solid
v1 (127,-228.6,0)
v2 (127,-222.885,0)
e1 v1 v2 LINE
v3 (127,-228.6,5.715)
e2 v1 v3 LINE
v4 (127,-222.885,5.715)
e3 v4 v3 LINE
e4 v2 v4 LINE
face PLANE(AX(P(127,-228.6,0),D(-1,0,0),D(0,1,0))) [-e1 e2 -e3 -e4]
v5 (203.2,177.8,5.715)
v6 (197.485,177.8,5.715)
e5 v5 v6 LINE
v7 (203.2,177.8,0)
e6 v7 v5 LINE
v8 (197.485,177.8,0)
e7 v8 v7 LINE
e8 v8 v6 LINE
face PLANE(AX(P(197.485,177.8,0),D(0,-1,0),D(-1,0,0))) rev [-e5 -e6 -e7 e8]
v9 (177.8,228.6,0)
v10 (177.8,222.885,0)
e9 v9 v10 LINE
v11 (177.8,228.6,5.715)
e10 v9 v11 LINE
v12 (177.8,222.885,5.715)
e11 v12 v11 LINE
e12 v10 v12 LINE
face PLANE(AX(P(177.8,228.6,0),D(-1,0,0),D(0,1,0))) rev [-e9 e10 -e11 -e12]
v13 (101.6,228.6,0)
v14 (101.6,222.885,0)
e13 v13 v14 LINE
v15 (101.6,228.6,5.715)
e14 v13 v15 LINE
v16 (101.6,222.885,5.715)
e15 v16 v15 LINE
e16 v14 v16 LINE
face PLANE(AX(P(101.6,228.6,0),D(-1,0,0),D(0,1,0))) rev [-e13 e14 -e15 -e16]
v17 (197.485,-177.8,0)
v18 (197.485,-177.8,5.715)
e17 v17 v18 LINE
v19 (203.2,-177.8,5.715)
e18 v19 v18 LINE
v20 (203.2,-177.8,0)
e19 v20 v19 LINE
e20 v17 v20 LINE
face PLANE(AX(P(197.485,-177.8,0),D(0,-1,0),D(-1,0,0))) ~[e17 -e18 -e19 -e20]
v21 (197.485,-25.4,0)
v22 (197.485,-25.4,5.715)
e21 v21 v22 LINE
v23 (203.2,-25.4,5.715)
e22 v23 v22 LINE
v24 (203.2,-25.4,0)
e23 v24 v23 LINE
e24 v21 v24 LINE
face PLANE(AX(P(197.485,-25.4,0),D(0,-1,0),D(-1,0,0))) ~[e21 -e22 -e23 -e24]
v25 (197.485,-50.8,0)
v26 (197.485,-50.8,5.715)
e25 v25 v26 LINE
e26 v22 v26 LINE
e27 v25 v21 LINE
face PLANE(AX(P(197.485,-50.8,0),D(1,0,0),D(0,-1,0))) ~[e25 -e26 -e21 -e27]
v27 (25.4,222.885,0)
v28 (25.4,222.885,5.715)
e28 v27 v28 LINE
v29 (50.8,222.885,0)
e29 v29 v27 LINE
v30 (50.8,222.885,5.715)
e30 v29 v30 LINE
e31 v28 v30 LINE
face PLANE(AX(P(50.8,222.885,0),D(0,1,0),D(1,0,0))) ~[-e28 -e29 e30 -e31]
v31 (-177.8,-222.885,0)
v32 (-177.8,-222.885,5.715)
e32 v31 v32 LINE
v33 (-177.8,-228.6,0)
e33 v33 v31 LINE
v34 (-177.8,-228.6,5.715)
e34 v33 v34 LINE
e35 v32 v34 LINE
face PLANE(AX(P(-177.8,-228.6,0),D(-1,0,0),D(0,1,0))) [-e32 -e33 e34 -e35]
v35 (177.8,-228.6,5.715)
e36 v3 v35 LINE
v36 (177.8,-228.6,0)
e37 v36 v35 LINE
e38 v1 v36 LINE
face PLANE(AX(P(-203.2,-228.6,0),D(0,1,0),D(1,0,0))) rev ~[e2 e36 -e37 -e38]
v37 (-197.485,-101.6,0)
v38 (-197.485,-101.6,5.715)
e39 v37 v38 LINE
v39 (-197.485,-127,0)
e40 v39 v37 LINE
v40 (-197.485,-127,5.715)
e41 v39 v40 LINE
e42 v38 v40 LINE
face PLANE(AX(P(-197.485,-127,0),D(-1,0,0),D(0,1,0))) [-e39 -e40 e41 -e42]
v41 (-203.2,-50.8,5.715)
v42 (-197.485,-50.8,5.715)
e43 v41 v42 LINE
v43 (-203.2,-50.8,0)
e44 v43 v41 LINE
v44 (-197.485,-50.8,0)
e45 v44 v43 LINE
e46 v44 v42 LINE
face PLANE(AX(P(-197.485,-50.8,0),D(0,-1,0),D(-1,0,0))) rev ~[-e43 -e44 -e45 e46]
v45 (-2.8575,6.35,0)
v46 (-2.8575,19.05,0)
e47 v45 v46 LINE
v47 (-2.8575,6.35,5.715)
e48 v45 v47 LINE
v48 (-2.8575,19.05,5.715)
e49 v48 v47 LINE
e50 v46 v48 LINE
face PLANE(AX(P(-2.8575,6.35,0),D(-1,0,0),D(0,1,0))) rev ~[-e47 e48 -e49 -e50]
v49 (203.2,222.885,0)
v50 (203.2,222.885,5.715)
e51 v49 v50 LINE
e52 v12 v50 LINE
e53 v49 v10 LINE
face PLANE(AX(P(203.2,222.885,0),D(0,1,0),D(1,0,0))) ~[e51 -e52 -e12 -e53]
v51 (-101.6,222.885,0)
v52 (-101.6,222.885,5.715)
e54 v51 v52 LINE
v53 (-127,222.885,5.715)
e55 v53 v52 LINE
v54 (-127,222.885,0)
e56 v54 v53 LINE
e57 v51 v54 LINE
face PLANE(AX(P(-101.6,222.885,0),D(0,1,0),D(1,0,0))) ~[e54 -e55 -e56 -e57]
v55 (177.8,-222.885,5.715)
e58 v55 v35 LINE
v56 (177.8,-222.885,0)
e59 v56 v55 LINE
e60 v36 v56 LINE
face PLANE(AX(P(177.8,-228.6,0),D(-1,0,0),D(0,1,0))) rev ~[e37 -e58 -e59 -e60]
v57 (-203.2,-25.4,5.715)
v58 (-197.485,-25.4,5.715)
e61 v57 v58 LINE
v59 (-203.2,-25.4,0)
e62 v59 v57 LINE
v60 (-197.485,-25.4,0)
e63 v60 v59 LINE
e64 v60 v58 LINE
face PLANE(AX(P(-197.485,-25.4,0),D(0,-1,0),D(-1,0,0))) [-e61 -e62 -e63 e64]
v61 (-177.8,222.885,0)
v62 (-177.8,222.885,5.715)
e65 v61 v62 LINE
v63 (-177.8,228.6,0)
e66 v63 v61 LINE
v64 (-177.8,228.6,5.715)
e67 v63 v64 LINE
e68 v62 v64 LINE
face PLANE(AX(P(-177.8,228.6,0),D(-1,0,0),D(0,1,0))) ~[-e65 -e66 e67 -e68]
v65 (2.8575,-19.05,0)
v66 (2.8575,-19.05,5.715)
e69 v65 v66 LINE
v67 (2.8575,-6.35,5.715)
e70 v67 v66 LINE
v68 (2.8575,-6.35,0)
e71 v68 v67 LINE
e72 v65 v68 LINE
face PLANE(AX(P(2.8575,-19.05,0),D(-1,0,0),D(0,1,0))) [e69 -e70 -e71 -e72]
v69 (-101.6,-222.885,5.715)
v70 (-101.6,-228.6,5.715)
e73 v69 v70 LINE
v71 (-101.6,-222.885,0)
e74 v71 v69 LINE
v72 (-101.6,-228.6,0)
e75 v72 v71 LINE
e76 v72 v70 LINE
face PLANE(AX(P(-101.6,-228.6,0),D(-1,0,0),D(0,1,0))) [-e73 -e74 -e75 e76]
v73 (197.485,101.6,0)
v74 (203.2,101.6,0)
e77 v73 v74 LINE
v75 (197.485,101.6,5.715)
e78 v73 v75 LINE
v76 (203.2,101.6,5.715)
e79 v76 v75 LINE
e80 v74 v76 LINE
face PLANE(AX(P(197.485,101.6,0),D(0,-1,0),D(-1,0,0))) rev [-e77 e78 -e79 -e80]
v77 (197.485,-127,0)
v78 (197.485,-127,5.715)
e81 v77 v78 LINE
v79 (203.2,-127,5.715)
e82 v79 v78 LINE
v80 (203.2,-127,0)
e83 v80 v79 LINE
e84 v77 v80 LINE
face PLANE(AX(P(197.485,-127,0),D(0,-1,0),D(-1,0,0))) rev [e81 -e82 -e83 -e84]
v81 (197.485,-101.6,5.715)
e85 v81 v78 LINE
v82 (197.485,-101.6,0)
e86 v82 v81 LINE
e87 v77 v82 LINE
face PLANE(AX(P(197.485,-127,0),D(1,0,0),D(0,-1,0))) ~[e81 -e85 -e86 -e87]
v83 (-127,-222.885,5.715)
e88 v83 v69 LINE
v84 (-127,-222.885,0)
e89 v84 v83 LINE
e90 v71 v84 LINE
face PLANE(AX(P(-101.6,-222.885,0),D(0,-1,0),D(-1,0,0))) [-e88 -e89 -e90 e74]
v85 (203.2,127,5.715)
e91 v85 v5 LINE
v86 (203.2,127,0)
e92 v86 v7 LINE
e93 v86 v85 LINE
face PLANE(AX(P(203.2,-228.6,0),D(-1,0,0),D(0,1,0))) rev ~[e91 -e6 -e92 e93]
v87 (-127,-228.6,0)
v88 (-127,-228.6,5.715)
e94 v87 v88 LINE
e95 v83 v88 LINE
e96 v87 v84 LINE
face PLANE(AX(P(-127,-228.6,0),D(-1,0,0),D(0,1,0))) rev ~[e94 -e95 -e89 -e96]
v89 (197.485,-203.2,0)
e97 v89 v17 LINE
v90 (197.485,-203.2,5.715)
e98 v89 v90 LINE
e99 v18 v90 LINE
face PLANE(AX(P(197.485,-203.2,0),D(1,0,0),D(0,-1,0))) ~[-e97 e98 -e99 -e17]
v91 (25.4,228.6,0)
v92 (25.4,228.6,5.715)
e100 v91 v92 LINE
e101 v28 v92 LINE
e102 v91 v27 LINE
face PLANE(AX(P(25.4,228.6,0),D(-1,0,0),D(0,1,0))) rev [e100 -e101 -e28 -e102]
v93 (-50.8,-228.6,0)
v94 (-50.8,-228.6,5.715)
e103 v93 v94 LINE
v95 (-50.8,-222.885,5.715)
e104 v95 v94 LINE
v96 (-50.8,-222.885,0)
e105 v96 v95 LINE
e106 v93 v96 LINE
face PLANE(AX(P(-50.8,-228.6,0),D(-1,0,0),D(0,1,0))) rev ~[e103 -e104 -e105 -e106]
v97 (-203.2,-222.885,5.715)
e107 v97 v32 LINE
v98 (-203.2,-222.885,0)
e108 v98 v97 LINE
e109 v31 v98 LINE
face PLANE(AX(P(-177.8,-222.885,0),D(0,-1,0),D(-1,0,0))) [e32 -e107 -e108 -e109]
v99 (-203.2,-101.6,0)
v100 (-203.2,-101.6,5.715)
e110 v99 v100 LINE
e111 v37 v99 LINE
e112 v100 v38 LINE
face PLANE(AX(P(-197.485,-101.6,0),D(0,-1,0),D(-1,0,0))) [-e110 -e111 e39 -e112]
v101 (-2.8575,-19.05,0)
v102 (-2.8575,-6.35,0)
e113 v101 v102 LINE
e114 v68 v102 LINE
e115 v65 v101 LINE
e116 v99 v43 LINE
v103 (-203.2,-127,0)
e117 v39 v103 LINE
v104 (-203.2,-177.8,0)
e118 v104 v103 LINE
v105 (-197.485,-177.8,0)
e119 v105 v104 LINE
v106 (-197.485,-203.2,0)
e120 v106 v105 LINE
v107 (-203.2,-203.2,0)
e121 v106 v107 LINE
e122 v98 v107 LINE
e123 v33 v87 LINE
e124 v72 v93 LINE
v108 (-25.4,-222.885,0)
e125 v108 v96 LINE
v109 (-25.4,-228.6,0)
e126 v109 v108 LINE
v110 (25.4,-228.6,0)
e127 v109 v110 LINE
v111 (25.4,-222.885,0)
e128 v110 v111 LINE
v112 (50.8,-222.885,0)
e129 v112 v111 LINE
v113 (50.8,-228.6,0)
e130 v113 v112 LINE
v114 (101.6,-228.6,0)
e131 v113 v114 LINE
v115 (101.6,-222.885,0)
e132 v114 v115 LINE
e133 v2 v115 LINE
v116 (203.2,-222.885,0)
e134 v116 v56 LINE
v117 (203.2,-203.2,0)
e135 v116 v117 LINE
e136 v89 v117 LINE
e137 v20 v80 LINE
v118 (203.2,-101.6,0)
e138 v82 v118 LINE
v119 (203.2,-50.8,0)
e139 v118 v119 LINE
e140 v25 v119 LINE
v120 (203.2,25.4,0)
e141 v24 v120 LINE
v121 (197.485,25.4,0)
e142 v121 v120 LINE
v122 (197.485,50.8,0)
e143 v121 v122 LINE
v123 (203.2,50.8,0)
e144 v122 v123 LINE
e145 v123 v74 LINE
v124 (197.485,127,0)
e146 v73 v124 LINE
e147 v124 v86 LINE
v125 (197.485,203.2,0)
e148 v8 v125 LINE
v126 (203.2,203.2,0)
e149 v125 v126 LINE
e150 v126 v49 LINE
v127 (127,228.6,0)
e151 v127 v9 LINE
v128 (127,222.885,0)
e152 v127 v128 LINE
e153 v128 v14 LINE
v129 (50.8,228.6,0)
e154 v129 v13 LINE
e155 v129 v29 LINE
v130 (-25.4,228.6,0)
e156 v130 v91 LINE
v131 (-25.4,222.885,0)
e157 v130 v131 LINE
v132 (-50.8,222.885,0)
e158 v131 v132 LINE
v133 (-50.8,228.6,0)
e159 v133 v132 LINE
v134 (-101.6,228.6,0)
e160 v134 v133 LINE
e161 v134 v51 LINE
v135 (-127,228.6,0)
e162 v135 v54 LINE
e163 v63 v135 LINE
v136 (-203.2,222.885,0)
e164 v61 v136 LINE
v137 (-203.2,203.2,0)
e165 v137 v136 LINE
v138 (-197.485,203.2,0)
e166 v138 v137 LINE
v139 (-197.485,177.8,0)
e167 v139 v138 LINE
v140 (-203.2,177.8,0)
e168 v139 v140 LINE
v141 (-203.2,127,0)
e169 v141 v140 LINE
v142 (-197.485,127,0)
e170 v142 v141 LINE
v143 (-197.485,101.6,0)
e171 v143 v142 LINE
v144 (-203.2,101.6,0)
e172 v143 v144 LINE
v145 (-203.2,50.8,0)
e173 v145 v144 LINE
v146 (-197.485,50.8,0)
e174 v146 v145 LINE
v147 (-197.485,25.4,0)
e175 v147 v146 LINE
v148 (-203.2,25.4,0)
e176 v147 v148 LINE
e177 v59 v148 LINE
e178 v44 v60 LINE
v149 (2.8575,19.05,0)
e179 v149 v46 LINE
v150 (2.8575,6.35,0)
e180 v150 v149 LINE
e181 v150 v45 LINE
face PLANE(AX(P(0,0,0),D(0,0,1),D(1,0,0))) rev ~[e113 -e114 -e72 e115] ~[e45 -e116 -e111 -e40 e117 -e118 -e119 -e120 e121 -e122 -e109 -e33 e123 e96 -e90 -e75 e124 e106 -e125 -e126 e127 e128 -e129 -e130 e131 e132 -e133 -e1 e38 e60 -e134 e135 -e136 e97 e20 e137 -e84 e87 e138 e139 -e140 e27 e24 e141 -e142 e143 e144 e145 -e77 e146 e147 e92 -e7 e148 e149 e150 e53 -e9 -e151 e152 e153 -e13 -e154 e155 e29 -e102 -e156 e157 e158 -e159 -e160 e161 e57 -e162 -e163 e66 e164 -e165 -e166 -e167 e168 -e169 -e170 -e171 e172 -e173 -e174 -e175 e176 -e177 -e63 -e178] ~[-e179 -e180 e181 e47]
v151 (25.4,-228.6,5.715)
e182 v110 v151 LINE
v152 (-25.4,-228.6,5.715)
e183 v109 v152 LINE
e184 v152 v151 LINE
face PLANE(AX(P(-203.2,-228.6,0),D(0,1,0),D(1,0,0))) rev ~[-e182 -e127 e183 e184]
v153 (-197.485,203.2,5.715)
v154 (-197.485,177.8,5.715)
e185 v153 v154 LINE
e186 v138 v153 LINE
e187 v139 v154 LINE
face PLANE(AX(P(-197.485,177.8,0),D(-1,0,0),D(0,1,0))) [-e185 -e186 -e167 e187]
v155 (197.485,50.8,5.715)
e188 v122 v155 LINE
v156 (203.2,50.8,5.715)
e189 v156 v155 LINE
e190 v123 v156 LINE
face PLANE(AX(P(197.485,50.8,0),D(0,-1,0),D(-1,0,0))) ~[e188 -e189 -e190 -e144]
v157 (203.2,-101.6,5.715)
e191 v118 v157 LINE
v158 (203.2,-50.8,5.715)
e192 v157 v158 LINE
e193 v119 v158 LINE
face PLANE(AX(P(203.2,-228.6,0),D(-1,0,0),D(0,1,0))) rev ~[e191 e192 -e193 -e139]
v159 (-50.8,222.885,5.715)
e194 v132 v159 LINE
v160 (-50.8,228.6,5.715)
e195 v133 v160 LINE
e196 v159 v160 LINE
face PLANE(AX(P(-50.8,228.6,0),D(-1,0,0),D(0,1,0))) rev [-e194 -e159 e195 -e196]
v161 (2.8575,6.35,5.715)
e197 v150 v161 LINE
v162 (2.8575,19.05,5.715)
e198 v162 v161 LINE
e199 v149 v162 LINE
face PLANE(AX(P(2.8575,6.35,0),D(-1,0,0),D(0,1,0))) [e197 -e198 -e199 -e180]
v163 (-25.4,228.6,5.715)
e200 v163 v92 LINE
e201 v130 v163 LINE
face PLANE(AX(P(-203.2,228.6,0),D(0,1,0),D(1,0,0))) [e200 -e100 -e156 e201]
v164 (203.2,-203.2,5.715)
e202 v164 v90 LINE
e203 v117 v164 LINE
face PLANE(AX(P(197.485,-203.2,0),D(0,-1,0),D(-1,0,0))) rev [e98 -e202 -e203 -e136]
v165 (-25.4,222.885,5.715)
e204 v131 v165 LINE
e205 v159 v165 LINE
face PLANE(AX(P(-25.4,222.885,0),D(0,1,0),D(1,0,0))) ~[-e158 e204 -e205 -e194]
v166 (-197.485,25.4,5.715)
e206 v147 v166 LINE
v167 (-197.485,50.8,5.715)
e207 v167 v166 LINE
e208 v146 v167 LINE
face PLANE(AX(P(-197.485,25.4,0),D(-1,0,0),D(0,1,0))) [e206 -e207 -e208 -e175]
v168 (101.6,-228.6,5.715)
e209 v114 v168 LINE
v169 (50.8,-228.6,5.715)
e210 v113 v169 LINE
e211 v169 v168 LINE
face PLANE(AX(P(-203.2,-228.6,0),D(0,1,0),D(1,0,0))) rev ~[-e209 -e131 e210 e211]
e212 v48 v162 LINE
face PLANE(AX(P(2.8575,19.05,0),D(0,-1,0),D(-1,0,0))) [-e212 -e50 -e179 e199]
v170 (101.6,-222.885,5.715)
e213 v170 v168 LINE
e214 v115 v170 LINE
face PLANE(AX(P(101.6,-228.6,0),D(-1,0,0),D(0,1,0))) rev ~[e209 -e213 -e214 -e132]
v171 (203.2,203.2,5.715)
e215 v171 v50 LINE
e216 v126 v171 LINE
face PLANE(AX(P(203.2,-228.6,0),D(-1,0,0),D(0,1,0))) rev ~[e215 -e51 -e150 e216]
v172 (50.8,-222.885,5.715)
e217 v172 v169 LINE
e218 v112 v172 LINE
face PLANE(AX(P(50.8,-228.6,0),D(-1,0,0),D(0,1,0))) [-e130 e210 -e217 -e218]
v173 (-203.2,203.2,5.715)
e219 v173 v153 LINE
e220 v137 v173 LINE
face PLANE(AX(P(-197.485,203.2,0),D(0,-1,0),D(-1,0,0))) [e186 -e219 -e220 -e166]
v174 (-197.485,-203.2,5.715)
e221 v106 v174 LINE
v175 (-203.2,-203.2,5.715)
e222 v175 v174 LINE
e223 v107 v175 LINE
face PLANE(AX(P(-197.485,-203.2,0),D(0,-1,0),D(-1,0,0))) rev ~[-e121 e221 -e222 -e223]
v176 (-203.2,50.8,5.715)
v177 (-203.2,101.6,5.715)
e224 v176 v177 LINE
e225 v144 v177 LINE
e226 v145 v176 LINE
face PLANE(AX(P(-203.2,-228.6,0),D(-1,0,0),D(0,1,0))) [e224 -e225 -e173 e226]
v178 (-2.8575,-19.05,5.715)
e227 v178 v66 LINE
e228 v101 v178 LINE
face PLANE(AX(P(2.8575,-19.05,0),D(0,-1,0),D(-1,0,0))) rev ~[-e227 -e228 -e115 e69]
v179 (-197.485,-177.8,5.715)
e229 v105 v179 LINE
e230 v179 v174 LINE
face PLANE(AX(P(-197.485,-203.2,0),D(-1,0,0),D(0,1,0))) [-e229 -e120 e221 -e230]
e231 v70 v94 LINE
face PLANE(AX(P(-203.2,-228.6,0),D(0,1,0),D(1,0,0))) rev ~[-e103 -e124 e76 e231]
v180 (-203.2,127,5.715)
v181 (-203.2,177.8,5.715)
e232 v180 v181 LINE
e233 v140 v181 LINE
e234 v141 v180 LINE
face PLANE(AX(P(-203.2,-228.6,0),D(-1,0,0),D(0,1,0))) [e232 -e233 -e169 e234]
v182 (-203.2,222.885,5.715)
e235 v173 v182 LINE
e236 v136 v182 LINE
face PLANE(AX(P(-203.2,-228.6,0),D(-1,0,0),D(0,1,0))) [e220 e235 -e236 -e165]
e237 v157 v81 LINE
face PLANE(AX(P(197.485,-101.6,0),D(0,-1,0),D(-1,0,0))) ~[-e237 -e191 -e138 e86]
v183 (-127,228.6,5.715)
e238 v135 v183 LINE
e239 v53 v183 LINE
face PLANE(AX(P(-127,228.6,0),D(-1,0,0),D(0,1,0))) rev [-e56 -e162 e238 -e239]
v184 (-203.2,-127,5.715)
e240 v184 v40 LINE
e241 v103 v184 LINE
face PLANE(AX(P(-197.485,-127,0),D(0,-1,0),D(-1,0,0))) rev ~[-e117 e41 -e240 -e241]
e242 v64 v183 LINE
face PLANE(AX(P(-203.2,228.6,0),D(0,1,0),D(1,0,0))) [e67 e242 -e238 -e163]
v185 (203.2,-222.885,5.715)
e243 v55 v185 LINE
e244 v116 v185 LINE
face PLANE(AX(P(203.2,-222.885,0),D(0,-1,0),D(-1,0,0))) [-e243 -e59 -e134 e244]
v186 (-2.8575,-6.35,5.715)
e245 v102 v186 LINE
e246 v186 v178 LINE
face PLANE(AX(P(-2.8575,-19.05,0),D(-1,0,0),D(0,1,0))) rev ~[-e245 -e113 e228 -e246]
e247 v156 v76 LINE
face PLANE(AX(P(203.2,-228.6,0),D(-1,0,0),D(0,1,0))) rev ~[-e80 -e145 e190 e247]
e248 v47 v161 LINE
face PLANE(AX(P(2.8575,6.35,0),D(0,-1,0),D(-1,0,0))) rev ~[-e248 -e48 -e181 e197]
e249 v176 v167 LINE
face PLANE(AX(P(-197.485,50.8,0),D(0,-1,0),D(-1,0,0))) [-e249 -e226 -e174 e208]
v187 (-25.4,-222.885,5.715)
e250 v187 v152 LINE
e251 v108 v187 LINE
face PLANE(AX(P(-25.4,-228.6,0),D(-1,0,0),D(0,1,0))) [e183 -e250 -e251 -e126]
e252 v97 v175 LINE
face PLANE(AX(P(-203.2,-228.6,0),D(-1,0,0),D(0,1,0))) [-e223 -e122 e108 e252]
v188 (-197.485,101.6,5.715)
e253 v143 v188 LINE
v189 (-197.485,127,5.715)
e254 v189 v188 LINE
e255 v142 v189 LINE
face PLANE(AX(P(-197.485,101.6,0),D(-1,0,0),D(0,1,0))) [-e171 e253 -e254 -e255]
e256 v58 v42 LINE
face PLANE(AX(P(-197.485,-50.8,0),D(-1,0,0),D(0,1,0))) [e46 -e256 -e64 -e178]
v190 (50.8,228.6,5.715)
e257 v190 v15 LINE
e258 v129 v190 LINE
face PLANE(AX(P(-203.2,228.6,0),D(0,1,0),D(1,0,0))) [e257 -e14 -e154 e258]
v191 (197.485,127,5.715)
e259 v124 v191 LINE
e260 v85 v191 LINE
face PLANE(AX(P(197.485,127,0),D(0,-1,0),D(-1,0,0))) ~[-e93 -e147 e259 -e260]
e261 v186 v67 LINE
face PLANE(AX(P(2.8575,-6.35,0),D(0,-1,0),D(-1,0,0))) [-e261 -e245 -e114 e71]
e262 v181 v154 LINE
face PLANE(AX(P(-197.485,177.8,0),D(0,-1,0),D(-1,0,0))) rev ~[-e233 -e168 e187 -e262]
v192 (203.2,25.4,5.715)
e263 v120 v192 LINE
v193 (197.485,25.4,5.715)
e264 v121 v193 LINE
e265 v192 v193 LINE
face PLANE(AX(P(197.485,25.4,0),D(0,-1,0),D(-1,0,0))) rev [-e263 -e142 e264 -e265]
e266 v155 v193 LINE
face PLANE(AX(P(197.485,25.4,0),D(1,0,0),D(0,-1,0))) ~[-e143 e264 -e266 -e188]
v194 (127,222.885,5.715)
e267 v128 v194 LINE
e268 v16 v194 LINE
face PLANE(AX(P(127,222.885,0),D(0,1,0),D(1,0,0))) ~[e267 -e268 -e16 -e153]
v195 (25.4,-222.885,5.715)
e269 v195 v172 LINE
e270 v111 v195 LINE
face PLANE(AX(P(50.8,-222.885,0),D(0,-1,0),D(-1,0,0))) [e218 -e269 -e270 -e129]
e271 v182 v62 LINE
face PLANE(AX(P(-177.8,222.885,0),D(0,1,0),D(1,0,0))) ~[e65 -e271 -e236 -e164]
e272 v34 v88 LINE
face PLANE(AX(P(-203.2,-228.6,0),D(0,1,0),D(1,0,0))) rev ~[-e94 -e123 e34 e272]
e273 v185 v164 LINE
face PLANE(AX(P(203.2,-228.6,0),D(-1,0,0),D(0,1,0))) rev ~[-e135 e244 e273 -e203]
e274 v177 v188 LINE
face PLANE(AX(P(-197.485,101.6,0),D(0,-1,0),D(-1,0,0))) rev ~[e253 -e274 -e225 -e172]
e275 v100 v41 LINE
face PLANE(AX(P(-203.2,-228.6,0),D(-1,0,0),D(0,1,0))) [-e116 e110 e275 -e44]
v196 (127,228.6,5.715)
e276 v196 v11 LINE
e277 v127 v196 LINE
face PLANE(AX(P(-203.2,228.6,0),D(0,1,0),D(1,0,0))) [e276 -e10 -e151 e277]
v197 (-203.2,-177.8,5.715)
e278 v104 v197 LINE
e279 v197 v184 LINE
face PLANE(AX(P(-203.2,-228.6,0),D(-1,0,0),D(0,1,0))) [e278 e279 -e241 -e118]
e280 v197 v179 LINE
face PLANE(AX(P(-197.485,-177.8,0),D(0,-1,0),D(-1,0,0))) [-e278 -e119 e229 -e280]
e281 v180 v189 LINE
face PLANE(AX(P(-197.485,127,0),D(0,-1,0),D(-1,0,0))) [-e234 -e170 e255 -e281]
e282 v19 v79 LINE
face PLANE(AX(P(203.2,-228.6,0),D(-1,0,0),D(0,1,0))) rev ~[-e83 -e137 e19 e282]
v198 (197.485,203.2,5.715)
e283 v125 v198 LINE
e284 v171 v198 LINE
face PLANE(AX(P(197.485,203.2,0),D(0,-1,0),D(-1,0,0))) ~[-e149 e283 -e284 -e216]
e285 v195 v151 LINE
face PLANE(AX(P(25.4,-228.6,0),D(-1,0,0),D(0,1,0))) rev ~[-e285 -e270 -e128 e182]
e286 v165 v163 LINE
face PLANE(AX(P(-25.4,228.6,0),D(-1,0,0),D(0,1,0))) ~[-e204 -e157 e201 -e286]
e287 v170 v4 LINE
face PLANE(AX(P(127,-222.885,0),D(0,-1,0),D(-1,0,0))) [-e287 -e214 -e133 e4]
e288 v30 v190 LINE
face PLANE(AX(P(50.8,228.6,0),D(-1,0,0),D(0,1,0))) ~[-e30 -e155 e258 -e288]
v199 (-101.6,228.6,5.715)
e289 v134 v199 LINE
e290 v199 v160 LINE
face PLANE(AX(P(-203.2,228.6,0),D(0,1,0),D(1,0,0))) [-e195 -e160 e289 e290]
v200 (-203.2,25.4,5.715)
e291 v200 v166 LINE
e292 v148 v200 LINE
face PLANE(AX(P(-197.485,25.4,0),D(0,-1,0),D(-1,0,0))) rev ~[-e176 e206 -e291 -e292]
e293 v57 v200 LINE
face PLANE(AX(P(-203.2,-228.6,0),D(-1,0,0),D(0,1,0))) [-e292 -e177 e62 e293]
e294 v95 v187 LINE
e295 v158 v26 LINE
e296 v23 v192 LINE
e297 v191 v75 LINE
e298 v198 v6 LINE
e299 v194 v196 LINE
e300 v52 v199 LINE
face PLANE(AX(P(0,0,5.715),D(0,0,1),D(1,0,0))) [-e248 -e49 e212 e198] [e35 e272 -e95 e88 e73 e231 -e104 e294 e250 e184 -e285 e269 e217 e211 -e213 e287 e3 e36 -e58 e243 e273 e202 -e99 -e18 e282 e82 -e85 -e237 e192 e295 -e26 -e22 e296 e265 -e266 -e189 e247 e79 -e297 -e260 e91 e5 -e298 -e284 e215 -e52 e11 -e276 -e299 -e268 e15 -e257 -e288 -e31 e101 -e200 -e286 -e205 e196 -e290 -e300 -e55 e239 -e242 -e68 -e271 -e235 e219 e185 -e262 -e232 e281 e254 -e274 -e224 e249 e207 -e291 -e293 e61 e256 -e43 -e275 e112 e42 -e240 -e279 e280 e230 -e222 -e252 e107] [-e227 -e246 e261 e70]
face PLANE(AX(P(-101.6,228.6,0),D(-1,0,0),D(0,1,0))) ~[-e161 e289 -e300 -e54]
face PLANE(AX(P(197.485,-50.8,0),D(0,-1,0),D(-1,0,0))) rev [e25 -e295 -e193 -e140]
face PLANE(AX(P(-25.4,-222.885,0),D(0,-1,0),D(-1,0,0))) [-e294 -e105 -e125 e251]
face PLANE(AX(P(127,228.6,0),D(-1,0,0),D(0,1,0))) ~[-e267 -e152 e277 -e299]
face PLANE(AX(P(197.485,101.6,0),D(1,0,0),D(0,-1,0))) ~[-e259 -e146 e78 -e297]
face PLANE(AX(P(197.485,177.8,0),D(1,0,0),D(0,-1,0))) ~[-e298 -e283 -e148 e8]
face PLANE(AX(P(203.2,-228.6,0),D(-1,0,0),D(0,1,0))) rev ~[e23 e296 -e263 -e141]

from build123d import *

# Parameters (mm, degrees)
SKETCH1_W                = 406.4
SKETCH1_H                = 457.2
BOSS_EXTRUDE1_DEPTH      = 5.715
SKETCH4_W                = 25.4
SKETCH4_H                = 5.715
FRONT_JIGSAW_DEPTH       = 6.715
SKETCH5_W                = 5.715
SKETCH5_H                = 25.4
RIGHT_JIGSAW_DEPTH       = 6.715
SKETCH7_W                = 5.715
SKETCH7_H                = 12.7
CENTER_SUPPORT_JIG_DEPTH = 6.715


with BuildPart() as part:
    # Sketch1 → Boss-Extrude1 (new body)
    with BuildSketch(Plane.XY):
        Rectangle(SKETCH1_W, SKETCH1_H)
    extrude(amount=BOSS_EXTRUDE1_DEPTH)

    # Sketch4 → Front Jigsaw (cut, through all)
    with BuildSketch(Plane(origin=(0, 0, 0), x_dir=(-1, 0, 0), z_dir=(0, 0, -1))):
        with Locations((-114.3, -225.7425)):
            Rectangle(SKETCH4_W, SKETCH4_H)
        with Locations((-190.5, -225.7425)):
            Rectangle(SKETCH4_W, SKETCH4_H)
        with Locations((-38.1, -225.7425)):
            Rectangle(SKETCH4_W, SKETCH4_H)
        with Locations((38.1, -225.7425)):
            Rectangle(SKETCH4_W, SKETCH4_H)
        with Locations((114.3, -225.7425)):
            Rectangle(SKETCH4_W, SKETCH4_H)
        with Locations((190.5, -225.7425)):
            Rectangle(SKETCH4_W, SKETCH4_H)
    front_jigsaw = extrude(amount=-FRONT_JIGSAW_DEPTH, mode=Mode.SUBTRACT)

    # Back Jigsaw: Front Jigsaw across plane
    add(front_jigsaw.mirror(Plane.ZX), mode=Mode.SUBTRACT)

    # Sketch5 → Right Jigsaw (cut, through all)
    with BuildSketch(Plane(origin=(0, 0, 0), x_dir=(-1, 0, 0), z_dir=(0, 0, -1))):
        with Locations((200.3425, 190.5)):
            Rectangle(SKETCH5_W, SKETCH5_H)
        with Locations((200.3425, 114.3)):
            Rectangle(SKETCH5_W, SKETCH5_H)
        with Locations((200.3425, 38.1)):
            Rectangle(SKETCH5_W, SKETCH5_H)
        with Locations((200.3425, -38.1)):
            Rectangle(SKETCH5_W, SKETCH5_H)
        with Locations((200.3425, -114.3)):
            Rectangle(SKETCH5_W, SKETCH5_H)
        with Locations((200.3425, -190.5)):
            Rectangle(SKETCH5_W, SKETCH5_H)
    right_jigsaw = extrude(amount=-RIGHT_JIGSAW_DEPTH, mode=Mode.SUBTRACT)

    # Left Jigsaw: Right Jigsaw across plane
    add(right_jigsaw.mirror(Plane(origin=(0, 0, 0), x_dir=(0, 0, 1), z_dir=(1, 0, 0))), mode=Mode.SUBTRACT)

    # Sketch7 → Center Support Jig (cut, through all)
    with BuildSketch(Plane(origin=(0, 0, 0), x_dir=(-1, 0, 0), z_dir=(0, 0, -1))):
        with Locations((0, 12.7)):
            Rectangle(SKETCH7_W, SKETCH7_H)
        with Locations((0, -12.7)):
            Rectangle(SKETCH7_W, SKETCH7_H)
    extrude(amount=-CENTER_SUPPORT_JIG_DEPTH, mode=Mode.SUBTRACT)


solid = part.part
